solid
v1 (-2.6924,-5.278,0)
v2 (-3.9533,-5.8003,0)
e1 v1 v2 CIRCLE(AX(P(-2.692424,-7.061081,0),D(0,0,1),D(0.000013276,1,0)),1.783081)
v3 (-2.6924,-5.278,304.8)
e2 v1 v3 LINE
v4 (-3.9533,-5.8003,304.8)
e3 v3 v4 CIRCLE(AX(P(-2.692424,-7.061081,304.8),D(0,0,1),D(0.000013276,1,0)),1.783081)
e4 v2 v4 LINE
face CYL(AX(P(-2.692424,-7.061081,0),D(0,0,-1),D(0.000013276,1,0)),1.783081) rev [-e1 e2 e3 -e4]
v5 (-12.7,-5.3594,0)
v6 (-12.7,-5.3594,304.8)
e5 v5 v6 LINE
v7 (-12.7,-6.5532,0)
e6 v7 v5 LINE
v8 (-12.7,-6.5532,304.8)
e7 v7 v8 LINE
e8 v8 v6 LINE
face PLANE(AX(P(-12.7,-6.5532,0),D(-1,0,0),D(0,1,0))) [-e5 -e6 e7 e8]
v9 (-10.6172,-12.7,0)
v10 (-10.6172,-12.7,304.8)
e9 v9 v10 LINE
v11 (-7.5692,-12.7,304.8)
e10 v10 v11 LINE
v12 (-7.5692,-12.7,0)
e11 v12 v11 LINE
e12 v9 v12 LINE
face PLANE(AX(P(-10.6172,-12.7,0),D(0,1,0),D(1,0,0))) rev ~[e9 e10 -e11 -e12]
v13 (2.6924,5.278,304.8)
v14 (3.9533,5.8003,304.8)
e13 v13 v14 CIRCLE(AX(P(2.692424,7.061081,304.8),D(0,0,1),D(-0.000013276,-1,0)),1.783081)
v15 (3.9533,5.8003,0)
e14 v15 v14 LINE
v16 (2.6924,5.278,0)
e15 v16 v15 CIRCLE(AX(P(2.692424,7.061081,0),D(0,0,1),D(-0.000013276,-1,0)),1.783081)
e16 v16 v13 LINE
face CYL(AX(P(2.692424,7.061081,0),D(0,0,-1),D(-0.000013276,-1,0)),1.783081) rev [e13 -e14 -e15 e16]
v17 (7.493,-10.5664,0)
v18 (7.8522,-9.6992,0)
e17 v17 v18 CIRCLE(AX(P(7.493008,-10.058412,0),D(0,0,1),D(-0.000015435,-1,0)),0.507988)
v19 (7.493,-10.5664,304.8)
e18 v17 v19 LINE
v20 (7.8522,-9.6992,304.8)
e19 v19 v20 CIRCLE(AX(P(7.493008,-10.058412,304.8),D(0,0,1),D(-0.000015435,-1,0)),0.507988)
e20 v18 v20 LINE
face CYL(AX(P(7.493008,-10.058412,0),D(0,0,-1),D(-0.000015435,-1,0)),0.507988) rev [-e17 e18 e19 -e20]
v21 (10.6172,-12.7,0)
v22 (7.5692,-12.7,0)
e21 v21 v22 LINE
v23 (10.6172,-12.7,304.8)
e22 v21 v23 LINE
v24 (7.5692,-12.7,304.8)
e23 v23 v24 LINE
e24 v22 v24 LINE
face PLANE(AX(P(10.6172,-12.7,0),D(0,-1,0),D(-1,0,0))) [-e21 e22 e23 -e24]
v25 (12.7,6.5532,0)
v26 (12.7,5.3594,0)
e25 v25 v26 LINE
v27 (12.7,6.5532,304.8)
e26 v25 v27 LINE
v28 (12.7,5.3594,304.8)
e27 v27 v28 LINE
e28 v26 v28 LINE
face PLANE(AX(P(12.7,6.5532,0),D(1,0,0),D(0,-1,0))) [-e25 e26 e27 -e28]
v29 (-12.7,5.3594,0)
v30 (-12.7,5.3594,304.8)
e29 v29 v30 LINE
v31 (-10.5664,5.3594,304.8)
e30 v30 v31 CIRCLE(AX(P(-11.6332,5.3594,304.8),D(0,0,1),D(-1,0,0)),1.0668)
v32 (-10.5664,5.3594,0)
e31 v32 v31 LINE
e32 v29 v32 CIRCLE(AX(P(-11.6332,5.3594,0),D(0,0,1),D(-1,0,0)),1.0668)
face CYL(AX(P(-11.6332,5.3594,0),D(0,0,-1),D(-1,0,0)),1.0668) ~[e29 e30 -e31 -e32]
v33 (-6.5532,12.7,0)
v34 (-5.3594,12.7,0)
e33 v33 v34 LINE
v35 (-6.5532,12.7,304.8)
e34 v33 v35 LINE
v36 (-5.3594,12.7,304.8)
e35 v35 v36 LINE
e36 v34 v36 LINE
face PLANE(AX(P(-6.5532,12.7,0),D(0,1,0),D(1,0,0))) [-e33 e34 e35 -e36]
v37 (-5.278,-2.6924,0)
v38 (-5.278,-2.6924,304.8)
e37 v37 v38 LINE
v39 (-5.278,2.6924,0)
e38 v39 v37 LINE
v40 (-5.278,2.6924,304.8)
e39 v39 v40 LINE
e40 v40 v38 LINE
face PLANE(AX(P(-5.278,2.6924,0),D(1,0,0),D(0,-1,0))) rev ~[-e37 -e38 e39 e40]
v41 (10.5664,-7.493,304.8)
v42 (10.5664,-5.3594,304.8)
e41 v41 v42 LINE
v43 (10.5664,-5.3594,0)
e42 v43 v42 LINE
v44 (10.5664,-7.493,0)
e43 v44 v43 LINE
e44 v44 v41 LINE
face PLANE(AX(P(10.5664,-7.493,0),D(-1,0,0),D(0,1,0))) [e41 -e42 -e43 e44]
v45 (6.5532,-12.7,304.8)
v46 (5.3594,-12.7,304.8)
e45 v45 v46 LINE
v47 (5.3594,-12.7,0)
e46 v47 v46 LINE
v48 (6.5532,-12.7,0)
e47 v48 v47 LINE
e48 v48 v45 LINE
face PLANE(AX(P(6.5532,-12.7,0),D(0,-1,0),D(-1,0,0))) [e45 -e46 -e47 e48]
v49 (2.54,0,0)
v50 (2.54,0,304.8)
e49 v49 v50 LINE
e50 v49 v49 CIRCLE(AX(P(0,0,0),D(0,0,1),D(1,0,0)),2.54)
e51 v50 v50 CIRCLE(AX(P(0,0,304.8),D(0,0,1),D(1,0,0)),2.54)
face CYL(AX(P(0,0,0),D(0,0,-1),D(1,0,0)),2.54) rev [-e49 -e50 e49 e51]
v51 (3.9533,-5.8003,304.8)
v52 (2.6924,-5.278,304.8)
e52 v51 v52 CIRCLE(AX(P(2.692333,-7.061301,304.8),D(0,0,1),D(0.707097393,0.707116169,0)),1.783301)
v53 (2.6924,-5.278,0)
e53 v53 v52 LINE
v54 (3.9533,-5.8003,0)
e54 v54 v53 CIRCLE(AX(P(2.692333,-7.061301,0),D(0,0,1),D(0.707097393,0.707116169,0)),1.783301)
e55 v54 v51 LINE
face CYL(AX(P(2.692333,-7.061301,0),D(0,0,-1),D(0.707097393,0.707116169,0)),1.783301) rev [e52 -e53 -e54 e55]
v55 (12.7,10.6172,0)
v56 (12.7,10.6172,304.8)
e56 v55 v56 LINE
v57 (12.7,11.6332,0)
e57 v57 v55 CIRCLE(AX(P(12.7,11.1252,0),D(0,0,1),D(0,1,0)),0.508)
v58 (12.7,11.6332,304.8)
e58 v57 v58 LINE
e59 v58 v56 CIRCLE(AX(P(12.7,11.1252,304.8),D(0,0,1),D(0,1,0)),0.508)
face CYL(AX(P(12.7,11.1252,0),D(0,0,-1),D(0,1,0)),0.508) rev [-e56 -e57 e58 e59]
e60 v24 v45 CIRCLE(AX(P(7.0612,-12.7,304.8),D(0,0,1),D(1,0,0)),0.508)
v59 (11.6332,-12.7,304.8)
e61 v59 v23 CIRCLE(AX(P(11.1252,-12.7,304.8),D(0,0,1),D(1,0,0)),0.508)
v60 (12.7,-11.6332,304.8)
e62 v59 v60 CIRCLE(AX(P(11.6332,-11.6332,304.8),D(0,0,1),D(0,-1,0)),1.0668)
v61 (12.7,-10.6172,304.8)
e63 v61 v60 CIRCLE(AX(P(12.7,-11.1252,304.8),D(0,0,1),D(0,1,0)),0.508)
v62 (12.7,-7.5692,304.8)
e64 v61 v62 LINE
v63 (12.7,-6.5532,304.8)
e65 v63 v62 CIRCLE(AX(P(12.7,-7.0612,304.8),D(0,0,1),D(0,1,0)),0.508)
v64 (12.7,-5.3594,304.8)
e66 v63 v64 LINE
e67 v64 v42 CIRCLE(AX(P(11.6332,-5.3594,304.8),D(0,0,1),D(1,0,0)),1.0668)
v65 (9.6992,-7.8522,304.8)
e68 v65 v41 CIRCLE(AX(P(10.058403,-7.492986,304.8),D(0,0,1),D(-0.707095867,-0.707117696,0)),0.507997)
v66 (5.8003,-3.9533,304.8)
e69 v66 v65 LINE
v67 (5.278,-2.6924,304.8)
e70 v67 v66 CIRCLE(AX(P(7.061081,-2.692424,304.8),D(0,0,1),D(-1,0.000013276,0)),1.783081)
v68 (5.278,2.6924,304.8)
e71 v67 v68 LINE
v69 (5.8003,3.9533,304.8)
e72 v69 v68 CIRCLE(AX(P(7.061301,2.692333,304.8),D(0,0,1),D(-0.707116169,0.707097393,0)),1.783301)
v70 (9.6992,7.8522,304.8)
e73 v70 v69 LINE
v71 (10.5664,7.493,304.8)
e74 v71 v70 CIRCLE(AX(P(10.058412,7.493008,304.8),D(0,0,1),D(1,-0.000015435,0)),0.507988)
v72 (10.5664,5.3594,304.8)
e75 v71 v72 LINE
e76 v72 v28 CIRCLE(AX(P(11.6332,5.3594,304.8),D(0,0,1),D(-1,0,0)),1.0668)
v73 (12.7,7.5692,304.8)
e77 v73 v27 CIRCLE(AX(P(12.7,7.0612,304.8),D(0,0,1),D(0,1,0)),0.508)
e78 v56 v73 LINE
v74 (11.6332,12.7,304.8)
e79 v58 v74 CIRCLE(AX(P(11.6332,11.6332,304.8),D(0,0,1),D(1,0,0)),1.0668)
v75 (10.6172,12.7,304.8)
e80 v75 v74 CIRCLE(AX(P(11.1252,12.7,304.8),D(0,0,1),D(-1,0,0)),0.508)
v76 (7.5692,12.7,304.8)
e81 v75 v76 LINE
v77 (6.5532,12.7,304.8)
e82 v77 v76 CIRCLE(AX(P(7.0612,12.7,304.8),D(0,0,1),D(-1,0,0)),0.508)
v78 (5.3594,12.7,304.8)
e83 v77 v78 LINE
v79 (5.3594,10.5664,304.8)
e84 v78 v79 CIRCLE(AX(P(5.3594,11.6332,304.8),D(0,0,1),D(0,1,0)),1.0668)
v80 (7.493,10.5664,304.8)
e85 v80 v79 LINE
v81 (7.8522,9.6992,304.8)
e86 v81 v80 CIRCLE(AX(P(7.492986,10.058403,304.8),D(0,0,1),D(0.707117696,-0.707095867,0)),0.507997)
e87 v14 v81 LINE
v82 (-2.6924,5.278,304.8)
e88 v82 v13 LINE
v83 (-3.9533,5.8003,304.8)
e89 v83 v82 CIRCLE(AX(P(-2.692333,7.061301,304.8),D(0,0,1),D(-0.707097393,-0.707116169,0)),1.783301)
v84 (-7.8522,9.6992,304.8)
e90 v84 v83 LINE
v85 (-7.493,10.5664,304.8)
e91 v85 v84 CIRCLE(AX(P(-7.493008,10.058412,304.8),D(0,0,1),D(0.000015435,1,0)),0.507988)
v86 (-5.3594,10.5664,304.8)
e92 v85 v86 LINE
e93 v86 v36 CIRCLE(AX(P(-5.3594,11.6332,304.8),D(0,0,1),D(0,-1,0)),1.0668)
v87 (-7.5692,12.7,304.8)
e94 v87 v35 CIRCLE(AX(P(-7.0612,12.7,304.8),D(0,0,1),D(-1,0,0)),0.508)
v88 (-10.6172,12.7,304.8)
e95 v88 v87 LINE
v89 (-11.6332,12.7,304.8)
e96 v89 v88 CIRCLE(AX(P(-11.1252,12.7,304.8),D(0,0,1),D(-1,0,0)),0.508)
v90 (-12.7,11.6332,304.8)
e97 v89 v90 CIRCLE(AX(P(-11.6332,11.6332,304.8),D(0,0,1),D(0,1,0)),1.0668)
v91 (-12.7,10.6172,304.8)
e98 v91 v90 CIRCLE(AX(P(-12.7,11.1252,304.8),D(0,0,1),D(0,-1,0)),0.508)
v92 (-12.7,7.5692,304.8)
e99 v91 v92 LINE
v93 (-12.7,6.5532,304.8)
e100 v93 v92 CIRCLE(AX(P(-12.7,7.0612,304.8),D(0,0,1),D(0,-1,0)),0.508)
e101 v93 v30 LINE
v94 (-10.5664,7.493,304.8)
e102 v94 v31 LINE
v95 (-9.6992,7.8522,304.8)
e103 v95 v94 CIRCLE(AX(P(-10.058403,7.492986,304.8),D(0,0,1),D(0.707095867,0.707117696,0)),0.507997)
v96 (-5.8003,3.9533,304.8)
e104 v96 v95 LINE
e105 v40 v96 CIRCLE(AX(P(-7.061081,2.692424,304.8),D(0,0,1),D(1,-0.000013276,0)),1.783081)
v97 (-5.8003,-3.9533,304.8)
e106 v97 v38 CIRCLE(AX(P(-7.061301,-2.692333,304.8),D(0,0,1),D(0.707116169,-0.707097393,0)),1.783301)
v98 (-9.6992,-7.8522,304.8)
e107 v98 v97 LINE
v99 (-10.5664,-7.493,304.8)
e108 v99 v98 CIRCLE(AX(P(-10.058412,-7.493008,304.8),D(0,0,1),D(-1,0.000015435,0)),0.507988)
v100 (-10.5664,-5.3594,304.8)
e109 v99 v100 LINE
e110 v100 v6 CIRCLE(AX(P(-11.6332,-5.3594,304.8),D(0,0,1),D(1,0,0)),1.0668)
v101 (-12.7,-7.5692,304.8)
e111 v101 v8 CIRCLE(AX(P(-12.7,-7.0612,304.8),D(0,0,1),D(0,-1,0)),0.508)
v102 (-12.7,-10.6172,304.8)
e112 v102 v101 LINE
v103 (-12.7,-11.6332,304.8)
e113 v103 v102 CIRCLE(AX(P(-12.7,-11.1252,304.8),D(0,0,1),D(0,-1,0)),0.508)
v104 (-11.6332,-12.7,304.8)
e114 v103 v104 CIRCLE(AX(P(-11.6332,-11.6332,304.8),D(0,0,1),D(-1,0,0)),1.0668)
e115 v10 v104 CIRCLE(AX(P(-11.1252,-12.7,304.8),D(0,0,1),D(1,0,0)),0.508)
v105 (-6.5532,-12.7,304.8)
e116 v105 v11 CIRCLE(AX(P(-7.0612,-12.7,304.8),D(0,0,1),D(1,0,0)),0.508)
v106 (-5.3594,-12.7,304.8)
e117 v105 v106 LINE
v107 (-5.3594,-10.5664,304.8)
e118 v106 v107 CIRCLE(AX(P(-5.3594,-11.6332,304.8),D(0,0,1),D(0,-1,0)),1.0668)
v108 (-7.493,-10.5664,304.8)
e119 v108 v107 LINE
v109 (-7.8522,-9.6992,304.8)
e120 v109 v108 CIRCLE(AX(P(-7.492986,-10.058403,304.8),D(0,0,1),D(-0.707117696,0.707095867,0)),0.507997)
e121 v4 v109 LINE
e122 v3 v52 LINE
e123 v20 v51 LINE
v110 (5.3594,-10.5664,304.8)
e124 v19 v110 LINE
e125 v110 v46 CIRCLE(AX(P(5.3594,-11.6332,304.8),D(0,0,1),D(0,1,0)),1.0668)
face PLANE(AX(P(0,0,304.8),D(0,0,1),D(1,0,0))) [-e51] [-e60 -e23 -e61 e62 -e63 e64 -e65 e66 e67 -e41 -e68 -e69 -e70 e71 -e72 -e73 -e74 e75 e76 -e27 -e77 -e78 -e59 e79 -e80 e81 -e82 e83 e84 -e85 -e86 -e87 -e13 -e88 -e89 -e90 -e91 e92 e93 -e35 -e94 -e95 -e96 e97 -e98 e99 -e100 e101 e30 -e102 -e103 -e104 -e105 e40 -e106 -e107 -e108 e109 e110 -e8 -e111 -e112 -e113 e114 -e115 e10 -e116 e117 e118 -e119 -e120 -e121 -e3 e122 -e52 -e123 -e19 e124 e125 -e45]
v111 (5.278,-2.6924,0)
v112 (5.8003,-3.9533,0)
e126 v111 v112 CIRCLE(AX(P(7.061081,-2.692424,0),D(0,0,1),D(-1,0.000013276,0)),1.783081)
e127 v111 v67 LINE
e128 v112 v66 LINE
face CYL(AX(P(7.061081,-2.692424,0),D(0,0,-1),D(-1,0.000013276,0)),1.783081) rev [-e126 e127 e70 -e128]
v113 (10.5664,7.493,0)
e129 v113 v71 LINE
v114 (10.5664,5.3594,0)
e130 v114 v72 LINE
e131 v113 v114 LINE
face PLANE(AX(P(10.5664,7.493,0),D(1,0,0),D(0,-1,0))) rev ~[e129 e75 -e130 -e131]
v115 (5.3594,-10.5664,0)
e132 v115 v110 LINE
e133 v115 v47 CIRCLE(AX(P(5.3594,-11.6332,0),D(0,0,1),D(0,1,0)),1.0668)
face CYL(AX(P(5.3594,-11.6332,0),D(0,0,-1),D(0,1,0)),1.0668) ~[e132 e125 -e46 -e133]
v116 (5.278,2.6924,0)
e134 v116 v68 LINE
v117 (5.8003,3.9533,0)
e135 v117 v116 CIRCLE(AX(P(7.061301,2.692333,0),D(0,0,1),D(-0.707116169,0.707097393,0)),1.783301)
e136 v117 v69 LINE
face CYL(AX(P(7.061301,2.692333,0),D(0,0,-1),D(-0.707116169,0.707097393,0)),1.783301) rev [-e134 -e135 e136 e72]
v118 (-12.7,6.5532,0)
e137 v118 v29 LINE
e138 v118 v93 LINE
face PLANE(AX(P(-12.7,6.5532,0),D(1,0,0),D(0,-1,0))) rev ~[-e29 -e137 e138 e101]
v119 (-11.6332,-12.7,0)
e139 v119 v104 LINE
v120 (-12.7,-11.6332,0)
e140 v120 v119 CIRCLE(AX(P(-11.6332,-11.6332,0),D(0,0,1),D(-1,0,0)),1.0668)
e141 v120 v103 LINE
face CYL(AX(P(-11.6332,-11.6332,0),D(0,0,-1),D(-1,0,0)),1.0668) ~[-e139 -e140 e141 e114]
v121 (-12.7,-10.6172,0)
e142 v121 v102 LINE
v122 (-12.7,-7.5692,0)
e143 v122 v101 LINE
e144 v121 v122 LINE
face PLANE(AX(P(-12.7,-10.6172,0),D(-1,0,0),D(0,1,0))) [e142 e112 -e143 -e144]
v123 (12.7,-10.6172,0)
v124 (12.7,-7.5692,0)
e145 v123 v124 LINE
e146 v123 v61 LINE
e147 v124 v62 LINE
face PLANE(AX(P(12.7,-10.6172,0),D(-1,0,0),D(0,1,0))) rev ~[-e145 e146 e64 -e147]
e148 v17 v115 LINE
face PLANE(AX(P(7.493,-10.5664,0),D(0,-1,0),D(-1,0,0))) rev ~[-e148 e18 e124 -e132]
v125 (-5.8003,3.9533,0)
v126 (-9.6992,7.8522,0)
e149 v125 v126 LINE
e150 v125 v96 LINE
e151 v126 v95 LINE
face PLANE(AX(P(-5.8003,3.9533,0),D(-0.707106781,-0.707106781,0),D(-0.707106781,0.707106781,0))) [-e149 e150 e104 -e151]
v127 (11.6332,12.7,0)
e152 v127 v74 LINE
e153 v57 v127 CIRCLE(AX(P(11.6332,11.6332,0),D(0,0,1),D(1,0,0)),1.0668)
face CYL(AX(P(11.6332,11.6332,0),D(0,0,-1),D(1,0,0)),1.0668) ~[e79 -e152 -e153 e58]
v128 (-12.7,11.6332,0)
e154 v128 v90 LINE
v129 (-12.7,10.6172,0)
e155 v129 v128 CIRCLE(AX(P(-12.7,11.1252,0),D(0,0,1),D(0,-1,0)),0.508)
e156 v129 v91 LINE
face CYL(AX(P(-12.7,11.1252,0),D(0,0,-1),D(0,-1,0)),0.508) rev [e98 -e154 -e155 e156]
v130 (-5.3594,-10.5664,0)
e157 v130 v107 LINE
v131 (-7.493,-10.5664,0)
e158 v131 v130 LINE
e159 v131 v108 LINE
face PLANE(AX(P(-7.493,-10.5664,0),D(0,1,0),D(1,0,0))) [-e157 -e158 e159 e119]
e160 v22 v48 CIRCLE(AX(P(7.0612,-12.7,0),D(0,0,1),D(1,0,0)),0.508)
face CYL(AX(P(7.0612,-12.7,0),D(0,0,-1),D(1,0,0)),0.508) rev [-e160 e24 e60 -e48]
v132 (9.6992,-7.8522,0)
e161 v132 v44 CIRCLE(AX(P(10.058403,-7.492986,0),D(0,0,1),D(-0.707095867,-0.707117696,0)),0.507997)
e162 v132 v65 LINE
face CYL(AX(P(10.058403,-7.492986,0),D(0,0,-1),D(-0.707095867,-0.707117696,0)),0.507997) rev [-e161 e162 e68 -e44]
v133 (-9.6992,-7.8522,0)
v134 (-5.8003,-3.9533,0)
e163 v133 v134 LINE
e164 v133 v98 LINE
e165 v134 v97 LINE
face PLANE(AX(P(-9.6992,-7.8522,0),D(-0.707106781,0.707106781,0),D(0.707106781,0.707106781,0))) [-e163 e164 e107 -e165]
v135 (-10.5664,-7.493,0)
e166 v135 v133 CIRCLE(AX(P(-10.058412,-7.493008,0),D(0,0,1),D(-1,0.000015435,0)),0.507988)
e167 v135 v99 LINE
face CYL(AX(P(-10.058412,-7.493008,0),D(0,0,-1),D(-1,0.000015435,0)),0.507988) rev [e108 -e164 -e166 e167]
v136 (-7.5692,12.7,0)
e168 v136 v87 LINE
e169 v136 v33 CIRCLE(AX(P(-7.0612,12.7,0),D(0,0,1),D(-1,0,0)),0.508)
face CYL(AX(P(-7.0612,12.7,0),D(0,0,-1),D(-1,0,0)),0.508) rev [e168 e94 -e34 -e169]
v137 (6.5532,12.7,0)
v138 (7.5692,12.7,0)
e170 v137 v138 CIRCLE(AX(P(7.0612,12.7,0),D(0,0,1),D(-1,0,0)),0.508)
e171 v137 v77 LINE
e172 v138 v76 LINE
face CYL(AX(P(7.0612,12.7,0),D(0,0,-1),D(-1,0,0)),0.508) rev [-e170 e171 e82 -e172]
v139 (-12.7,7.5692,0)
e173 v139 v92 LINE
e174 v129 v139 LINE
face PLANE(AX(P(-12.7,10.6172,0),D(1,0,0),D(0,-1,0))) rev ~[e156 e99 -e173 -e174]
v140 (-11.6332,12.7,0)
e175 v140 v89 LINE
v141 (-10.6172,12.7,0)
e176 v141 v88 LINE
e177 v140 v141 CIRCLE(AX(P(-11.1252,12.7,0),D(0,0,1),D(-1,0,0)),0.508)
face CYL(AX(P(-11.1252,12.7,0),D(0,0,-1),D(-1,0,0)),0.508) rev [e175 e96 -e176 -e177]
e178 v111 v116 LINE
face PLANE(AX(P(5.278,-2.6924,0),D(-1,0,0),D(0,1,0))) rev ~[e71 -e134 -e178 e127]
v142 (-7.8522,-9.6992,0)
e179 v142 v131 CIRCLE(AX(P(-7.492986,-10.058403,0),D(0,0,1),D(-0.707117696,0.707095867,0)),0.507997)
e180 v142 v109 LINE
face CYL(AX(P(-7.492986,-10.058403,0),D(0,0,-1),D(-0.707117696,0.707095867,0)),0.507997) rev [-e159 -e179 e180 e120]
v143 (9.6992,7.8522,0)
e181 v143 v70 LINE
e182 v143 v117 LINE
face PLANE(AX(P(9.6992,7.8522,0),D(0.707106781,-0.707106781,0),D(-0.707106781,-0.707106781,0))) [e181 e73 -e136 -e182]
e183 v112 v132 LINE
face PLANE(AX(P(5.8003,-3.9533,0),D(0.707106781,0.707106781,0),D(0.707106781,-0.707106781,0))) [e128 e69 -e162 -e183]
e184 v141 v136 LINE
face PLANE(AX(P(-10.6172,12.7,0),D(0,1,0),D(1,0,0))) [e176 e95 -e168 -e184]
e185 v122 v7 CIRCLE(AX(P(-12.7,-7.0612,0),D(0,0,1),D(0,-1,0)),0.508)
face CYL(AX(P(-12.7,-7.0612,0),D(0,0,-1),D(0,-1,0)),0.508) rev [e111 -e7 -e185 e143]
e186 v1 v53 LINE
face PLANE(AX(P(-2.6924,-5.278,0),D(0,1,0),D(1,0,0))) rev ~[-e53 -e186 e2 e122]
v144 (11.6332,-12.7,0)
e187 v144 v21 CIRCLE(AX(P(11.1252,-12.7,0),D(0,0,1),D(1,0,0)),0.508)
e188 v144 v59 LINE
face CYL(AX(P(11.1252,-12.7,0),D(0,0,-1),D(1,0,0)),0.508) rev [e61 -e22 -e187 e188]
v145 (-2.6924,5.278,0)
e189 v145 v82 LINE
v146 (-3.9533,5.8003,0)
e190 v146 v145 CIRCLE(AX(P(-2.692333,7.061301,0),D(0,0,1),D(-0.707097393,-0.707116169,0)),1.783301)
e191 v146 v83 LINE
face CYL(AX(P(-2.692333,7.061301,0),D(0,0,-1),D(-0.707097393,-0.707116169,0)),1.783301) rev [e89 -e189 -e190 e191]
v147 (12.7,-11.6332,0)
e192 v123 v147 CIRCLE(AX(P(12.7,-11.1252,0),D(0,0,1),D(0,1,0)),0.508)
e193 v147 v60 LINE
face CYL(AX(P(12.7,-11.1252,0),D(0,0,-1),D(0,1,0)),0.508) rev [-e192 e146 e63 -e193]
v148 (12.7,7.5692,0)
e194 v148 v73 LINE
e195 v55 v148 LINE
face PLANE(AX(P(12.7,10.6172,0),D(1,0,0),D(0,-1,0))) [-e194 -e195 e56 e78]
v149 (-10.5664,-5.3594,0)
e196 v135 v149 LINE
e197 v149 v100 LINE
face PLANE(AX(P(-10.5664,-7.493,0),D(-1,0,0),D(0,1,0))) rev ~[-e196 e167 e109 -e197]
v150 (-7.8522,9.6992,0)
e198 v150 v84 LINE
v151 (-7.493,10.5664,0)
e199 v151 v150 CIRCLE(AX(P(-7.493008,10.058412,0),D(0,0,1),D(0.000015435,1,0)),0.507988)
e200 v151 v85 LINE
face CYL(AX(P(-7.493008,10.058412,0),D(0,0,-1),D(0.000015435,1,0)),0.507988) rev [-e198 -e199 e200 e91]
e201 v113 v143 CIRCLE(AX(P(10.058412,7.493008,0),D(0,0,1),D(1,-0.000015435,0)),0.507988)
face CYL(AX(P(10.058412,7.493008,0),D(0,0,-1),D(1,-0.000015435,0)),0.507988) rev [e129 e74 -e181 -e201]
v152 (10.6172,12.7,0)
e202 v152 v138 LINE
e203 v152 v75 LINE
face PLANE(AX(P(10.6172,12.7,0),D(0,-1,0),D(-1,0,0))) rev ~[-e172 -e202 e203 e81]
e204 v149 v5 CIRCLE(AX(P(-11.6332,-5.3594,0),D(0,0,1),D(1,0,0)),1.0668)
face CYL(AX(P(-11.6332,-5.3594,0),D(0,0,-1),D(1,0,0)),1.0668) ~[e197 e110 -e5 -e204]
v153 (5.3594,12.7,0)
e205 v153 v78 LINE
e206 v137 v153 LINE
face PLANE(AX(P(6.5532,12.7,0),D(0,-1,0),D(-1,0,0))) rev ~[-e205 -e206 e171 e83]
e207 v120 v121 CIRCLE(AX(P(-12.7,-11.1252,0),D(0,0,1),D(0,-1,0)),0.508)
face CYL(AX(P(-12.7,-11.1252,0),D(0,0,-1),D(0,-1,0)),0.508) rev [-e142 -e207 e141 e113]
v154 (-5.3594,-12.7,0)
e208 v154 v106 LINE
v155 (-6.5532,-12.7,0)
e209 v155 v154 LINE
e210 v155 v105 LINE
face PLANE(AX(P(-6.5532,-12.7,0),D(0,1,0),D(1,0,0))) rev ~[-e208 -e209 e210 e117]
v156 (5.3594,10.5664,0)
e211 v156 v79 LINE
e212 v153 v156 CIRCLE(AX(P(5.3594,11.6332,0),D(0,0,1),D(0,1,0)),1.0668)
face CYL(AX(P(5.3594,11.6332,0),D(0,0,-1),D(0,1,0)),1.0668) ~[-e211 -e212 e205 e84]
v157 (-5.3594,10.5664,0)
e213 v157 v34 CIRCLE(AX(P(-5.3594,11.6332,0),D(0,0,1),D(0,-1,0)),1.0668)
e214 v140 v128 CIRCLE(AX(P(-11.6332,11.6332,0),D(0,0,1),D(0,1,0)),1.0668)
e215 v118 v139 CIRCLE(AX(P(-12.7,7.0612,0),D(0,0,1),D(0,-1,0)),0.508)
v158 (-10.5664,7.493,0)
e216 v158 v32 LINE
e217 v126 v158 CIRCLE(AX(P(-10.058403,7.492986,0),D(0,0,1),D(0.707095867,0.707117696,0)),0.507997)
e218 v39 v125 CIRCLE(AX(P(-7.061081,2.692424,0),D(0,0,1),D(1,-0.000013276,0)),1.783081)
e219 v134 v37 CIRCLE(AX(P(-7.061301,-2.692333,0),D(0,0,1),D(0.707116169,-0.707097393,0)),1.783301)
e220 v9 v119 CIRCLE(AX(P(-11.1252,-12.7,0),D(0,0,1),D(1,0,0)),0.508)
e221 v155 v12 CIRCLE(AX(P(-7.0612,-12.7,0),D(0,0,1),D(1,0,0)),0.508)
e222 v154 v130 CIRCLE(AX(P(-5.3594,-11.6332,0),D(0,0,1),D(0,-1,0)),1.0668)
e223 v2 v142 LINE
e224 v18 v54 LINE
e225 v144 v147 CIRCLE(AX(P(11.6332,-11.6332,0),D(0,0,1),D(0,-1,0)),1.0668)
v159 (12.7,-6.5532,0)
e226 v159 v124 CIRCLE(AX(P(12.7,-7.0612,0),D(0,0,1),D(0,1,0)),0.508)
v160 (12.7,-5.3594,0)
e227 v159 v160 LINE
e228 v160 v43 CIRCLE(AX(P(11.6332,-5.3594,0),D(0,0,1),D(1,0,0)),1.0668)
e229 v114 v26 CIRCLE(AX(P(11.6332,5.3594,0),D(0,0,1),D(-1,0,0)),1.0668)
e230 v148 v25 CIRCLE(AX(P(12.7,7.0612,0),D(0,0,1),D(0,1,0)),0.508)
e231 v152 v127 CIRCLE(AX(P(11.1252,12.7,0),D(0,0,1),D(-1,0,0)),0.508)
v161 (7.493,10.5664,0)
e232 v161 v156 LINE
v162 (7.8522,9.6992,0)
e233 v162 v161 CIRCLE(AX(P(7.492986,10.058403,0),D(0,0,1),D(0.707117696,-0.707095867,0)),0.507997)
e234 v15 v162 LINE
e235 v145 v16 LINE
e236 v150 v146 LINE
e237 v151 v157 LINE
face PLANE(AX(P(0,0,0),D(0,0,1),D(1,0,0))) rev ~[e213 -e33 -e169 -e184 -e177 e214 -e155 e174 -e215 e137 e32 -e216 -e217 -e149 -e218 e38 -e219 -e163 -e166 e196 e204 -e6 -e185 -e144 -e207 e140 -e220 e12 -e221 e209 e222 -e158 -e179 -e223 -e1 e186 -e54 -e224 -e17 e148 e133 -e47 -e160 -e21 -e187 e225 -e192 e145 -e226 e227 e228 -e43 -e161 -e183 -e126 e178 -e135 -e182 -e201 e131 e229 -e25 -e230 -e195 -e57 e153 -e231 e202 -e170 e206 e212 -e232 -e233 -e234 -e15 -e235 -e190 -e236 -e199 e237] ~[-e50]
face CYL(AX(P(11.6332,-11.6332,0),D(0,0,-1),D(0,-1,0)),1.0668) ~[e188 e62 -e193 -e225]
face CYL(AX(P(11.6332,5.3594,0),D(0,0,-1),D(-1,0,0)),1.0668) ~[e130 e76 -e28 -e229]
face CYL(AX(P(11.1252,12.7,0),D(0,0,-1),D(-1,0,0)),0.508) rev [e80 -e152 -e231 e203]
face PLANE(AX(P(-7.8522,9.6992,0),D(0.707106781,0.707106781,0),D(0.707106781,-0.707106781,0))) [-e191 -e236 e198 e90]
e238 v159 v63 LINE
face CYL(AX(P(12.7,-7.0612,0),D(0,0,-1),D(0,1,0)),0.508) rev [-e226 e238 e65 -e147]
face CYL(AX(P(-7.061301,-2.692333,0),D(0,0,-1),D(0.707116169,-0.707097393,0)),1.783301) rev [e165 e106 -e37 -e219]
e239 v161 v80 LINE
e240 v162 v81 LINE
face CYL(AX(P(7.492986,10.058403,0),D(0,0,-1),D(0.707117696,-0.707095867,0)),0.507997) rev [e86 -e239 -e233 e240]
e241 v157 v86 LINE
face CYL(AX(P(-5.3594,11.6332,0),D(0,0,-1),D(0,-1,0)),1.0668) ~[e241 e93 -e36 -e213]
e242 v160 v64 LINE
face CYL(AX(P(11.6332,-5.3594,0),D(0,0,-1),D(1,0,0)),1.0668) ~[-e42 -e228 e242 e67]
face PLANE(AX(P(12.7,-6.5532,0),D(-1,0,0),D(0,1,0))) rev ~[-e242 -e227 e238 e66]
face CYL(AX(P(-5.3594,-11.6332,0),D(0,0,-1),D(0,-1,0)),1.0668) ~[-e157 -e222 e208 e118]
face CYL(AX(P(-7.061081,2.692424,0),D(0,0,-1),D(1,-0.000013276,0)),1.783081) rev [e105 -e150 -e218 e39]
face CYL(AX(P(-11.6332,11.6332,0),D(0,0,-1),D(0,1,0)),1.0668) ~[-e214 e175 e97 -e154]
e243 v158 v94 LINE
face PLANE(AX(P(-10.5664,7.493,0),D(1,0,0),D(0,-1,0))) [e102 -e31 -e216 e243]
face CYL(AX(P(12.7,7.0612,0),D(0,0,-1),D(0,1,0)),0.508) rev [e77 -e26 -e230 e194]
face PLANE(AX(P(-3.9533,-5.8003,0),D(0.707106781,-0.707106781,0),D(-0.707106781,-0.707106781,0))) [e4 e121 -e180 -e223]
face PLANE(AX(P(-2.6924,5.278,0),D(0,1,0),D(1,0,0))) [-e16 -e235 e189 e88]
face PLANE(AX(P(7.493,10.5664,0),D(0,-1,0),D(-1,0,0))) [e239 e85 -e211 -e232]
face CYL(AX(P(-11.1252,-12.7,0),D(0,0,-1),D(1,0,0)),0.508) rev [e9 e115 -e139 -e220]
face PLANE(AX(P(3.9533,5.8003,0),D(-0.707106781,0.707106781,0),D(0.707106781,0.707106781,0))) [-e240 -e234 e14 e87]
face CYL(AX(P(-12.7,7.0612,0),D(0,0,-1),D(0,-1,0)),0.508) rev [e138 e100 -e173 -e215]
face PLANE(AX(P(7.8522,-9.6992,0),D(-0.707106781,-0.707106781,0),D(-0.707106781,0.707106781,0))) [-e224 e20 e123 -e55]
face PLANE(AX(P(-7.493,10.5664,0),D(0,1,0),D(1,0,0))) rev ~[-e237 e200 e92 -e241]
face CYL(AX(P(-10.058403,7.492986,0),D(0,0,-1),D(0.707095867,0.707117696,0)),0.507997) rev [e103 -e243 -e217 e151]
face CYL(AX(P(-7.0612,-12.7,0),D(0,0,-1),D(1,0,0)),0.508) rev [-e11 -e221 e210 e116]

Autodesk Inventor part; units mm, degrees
ref_plane "YZ Plane" through (0, 0, 0) normal (1, 0, 0) x (0, 1, 0)
ref_plane "Start Plane" through (0, 0, 0) normal (0, 0, 1) x (1, 0, 0)
ref_plane "End Plane" through (0, 0, 304.8) normal (0, 0, 1) x (1, 0, 0)
sketch "Sketch" plane through (0, 0, 0) normal (0, 0, 1) x (1, 0, 0)
  arc A0 (-11.6332, 12.7) -> (-12.7, 11.6332) centre (-11.6332, 11.6332) ccw
  arc A1 (-5.3594, 10.5664) -> (-5.3594, 12.7) centre (-5.3594, 11.6332) ccw
  arc A2 (-12.7, 5.3594) -> (-10.5664, 5.3594) centre (-11.6332, 5.3594) ccw
  line L0 (-10.5664, 7.493) -> (-10.5664, 5.3594)
  line L1 (-7.493, 10.5664) -> (-5.3594, 10.5664)
  arc A3 (-9.6992, 7.8522) -> (-10.5664, 7.493) centre (-10.0584, 7.493) ccw
  arc A4 (-7.493, 10.5664) -> (-7.8522, 9.6992) centre (-7.493, 10.0584) ccw
  line L2 (-11.6332, 11.6332) -> (0, 0) construction
  line L3 (-5.8003, 3.9533) -> (-9.6992, 7.8522)
  line L4 (-7.8522, 9.6992) -> (-3.9533, 5.8003)
  arc A5 (-3.9533, 5.8003) -> (-2.6924, 5.278) centre (-2.6924, 7.0612) ccw
  arc A6 (-5.278, 2.6924) -> (-5.8003, 3.9533) centre (-7.0612, 2.6924) ccw
  arc A7 (0, 2.54) -> (-2.54, 0) centre (0, 0) ccw construction
  line L5 (0, 0) -> (-12.7, 0) construction
  line L6 (0, 12.7) -> (0, 0) construction
  arc A8 (-11.6332, 12.7) -> (-10.6172, 12.7) centre (-11.1252, 12.7) ccw
  arc A9 (-7.5692, 12.7) -> (-6.5532, 12.7) centre (-7.0612, 12.7) ccw
  arc A10 (-12.7, 10.6172) -> (-12.7, 11.6332) centre (-12.7, 11.1252) ccw
  arc A11 (-12.7, 6.5532) -> (-12.7, 7.5692) centre (-12.7, 7.0612) ccw
  line L7 (-12.7, 10.6172) -> (-12.7, 7.5692)
  line L8 (-12.7, 6.5532) -> (-12.7, 5.3594)
  line L9 (-10.6172, 12.7) -> (-7.5692, 12.7)
  line L10 (-6.5532, 12.7) -> (-5.3594, 12.7)
  circle A12 centre (0, 0) radius 2.54
  arc A13 (-12.7, -11.6332) -> (-11.6332, -12.7) centre (-11.6332, -11.6332) ccw
  line L11 (-12.7, -10.6172) -> (-12.7, -7.5692)
  arc A14 (-10.5664, -7.493) -> (-9.6992, -7.8522) centre (-10.0584, -7.493) ccw
  line L12 (-9.6992, -7.8522) -> (-5.8003, -3.9533)
  line L13 (-11.6332, -11.6332) -> (0, 0) construction
  line L14 (-3.9533, -5.8003) -> (-7.8522, -9.6992)
  arc A15 (-7.8522, -9.6992) -> (-7.493, -10.5664) centre (-7.493, -10.0584) ccw
  line L15 (-10.6172, -12.7) -> (-7.5692, -12.7)
  line L16 (-7.493, -10.5664) -> (-5.3594, -10.5664)
  arc A16 (-6.5532, -12.7) -> (-7.5692, -12.7) centre (-7.0612, -12.7) ccw
  line L17 (-6.5532, -12.7) -> (-5.3594, -12.7)
  arc A17 (-5.3594, -12.7) -> (-5.3594, -10.5664) centre (-5.3594, -11.6332) ccw
  arc A18 (-10.6172, -12.7) -> (-11.6332, -12.7) centre (-11.1252, -12.7) ccw
  arc A19 (-12.7, -11.6332) -> (-12.7, -10.6172) centre (-12.7, -11.1252) ccw
  arc A20 (-2.6924, -5.278) -> (-3.9533, -5.8003) centre (-2.6924, -7.0612) ccw
  arc A21 (-5.8003, -3.9533) -> (-5.278, -2.6924) centre (-7.0612, -2.6924) ccw
  line L18 (-10.5664, -7.493) -> (-10.5664, -5.3594)
  line L19 (-12.7, -6.5532) -> (-12.7, -5.3594)
  arc A22 (-10.5664, -5.3594) -> (-12.7, -5.3594) centre (-11.6332, -5.3594) ccw
  arc A23 (-12.7, -7.5692) -> (-12.7, -6.5532) centre (-12.7, -7.0612) ccw
  arc A24 (11.6332, -12.7) -> (12.7, -11.6332) centre (11.6332, -11.6332) ccw
  line L20 (10.6172, -12.7) -> (7.5692, -12.7)
  arc A25 (7.493, -10.5664) -> (7.8522, -9.6992) centre (7.493, -10.0584) ccw
  line L21 (7.8522, -9.6992) -> (3.9533, -5.8003)
  line L22 (11.6332, -11.6332) -> (0, 0) construction
  line L23 (5.8003, -3.9533) -> (9.6992, -7.8522)
  arc A26 (9.6992, -7.8522) -> (10.5664, -7.493) centre (10.0584, -7.493) ccw
  line L24 (12.7, -10.6172) -> (12.7, -7.5692)
  line L25 (10.5664, -7.493) -> (10.5664, -5.3594)
  arc A27 (12.7, -6.5532) -> (12.7, -7.5692) centre (12.7, -7.0612) ccw
  line L26 (12.7, -6.5532) -> (12.7, -5.3594)
  arc A28 (12.7, -5.3594) -> (10.5664, -5.3594) centre (11.6332, -5.3594) ccw
  arc A29 (12.7, -10.6172) -> (12.7, -11.6332) centre (12.7, -11.1252) ccw
  arc A30 (11.6332, -12.7) -> (10.6172, -12.7) centre (11.1252, -12.7) ccw
  arc A31 (5.278, -2.6924) -> (5.8003, -3.9533) centre (7.0612, -2.6924) ccw
  arc A32 (3.9533, -5.8003) -> (2.6924, -5.278) centre (2.6924, -7.0612) ccw
  line L27 (7.493, -10.5664) -> (5.3594, -10.5664)
  line L28 (6.5532, -12.7) -> (5.3594, -12.7)
  arc A33 (5.3594, -10.5664) -> (5.3594, -12.7) centre (5.3594, -11.6332) ccw
  arc A34 (7.5692, -12.7) -> (6.5532, -12.7) centre (7.0612, -12.7) ccw
  arc A35 (12.7, 11.6332) -> (11.6332, 12.7) centre (11.6332, 11.6332) ccw
  line L29 (12.7, 10.6172) -> (12.7, 7.5692)
  arc A36 (10.5664, 7.493) -> (9.6992, 7.8522) centre (10.0584, 7.493) ccw
  line L30 (9.6992, 7.8522) -> (5.8003, 3.9533)
  line L31 (11.6332, 11.6332) -> (0, 0) construction
  line L32 (3.9533, 5.8003) -> (7.8522, 9.6992)
  arc A37 (7.8522, 9.6992) -> (7.493, 10.5664) centre (7.493, 10.0584) ccw
  line L33 (10.6172, 12.7) -> (7.5692, 12.7)
  line L34 (7.493, 10.5664) -> (5.3594, 10.5664)
  arc A38 (6.5532, 12.7) -> (7.5692, 12.7) centre (7.0612, 12.7) ccw
  line L35 (6.5532, 12.7) -> (5.3594, 12.7)
  arc A39 (5.3594, 12.7) -> (5.3594, 10.5664) centre (5.3594, 11.6332) ccw
  arc A40 (10.6172, 12.7) -> (11.6332, 12.7) centre (11.1252, 12.7) ccw
  arc A41 (12.7, 11.6332) -> (12.7, 10.6172) centre (12.7, 11.1252) ccw
  arc A42 (2.6924, 5.278) -> (3.9533, 5.8003) centre (2.6924, 7.0612) ccw
  arc A43 (5.8003, 3.9533) -> (5.278, 2.6924) centre (7.0612, 2.6924) ccw
  line L36 (10.5664, 7.493) -> (10.5664, 5.3594)
  line L37 (12.7, 6.5532) -> (12.7, 5.3594)
  arc A44 (10.5664, 5.3594) -> (12.7, 5.3594) centre (11.6332, 5.3594) ccw
  arc A45 (12.7, 7.5692) -> (12.7, 6.5532) centre (12.7, 7.0612) ccw
  line L38 (-2.6924, 5.278) -> (2.6924, 5.278)
  line L39 (-5.278, 2.6924) -> (-5.278, -2.6924)
  line L40 (-2.6924, -5.278) -> (2.6924, -5.278)
  line L41 (5.278, -2.6924) -> (5.278, 2.6924)
  point P0 (0, 0)
  point P1 (0, 0)
  dimension "d2" = 2.1336
  dimension "d3" = 6.2738
  dimension "d4" = 6.2738
  dimension "d5" = 1.0668
  dimension "d6" = 2.1336
  dimension "d7" = 2.1336
  dimension "d8" = 1.016
  dimension "d9" = 1.016
  dimension "d10" = 135
  dimension "d11" = 2.667
  dimension "d12" = 4.572
  dimension "d13" = 4.572
  dimension "d14" = 2.667
  dimension "d15" = 5.08
  dimension "d16" = 45
  dimension "d19" = 45
  dimension "d20" = 0.508
  dimension "d21" = 4.572
  dimension "d22" = 1.016
  dimension "d23" = 4.572
  dimension "d24" = 1.016
  dimension "d25" = 0.508
  dimension "d26" = 0.508
  dimension "d27" = 0.508
  dimension "d28" = 12.7
  dimension "d37" = 360
  dimension "d47" = 10.5664
  dimension "d48" = 12.7
extrude "Body" add sketch "Sketch" along normal up to surface (304.8 mm away) from surface at 0
sketch "Sketch2" plane through (0, 0, 0) normal (0, 0, 1) x (1, 0, 0)
  line L0 (0, 0) -> (10, 0)
ref_plane "Work Plane3" through (0, 0, 0) normal (0, -1, 0) x (1, 0, 0)
sketch "Sketch3" plane through (0, 0, 0) normal (0, -1, 0) x (1, 0, 0)
  line L0 (-2, 0) -> (12, 0)
  line L1 (-2, 304.8) -> (12, 304.8)
  dimension "d60" = 304.8
equation "\"d3\" = d4"
equation "\"d6\" = d7"
equation "\"d11\" = d14"
equation "\"d12\" = d13"
equation "\"d23\" = d21"
equation "\"d24\" = d30"
equation "\"d26\" = 0.5 * d24"
equation "\"d27\" = 0.5 * d22"
equation "\"Width\" = 2 * d28"
equation "\"Height\" = 2 * d48"
equation "\"G_OFFSET_START\" = 0"
equation "\"G_OFFSET_END\" = 0"
equation "\"d56\" = Length + G_OFFSET_END"
equation "\"G_L\" = 304.8"
equation "\"d30\" = 1.016"
equation "\"Length\" = 304.8"
properties part number "1010_80_20" material "Aluminum-6061"
